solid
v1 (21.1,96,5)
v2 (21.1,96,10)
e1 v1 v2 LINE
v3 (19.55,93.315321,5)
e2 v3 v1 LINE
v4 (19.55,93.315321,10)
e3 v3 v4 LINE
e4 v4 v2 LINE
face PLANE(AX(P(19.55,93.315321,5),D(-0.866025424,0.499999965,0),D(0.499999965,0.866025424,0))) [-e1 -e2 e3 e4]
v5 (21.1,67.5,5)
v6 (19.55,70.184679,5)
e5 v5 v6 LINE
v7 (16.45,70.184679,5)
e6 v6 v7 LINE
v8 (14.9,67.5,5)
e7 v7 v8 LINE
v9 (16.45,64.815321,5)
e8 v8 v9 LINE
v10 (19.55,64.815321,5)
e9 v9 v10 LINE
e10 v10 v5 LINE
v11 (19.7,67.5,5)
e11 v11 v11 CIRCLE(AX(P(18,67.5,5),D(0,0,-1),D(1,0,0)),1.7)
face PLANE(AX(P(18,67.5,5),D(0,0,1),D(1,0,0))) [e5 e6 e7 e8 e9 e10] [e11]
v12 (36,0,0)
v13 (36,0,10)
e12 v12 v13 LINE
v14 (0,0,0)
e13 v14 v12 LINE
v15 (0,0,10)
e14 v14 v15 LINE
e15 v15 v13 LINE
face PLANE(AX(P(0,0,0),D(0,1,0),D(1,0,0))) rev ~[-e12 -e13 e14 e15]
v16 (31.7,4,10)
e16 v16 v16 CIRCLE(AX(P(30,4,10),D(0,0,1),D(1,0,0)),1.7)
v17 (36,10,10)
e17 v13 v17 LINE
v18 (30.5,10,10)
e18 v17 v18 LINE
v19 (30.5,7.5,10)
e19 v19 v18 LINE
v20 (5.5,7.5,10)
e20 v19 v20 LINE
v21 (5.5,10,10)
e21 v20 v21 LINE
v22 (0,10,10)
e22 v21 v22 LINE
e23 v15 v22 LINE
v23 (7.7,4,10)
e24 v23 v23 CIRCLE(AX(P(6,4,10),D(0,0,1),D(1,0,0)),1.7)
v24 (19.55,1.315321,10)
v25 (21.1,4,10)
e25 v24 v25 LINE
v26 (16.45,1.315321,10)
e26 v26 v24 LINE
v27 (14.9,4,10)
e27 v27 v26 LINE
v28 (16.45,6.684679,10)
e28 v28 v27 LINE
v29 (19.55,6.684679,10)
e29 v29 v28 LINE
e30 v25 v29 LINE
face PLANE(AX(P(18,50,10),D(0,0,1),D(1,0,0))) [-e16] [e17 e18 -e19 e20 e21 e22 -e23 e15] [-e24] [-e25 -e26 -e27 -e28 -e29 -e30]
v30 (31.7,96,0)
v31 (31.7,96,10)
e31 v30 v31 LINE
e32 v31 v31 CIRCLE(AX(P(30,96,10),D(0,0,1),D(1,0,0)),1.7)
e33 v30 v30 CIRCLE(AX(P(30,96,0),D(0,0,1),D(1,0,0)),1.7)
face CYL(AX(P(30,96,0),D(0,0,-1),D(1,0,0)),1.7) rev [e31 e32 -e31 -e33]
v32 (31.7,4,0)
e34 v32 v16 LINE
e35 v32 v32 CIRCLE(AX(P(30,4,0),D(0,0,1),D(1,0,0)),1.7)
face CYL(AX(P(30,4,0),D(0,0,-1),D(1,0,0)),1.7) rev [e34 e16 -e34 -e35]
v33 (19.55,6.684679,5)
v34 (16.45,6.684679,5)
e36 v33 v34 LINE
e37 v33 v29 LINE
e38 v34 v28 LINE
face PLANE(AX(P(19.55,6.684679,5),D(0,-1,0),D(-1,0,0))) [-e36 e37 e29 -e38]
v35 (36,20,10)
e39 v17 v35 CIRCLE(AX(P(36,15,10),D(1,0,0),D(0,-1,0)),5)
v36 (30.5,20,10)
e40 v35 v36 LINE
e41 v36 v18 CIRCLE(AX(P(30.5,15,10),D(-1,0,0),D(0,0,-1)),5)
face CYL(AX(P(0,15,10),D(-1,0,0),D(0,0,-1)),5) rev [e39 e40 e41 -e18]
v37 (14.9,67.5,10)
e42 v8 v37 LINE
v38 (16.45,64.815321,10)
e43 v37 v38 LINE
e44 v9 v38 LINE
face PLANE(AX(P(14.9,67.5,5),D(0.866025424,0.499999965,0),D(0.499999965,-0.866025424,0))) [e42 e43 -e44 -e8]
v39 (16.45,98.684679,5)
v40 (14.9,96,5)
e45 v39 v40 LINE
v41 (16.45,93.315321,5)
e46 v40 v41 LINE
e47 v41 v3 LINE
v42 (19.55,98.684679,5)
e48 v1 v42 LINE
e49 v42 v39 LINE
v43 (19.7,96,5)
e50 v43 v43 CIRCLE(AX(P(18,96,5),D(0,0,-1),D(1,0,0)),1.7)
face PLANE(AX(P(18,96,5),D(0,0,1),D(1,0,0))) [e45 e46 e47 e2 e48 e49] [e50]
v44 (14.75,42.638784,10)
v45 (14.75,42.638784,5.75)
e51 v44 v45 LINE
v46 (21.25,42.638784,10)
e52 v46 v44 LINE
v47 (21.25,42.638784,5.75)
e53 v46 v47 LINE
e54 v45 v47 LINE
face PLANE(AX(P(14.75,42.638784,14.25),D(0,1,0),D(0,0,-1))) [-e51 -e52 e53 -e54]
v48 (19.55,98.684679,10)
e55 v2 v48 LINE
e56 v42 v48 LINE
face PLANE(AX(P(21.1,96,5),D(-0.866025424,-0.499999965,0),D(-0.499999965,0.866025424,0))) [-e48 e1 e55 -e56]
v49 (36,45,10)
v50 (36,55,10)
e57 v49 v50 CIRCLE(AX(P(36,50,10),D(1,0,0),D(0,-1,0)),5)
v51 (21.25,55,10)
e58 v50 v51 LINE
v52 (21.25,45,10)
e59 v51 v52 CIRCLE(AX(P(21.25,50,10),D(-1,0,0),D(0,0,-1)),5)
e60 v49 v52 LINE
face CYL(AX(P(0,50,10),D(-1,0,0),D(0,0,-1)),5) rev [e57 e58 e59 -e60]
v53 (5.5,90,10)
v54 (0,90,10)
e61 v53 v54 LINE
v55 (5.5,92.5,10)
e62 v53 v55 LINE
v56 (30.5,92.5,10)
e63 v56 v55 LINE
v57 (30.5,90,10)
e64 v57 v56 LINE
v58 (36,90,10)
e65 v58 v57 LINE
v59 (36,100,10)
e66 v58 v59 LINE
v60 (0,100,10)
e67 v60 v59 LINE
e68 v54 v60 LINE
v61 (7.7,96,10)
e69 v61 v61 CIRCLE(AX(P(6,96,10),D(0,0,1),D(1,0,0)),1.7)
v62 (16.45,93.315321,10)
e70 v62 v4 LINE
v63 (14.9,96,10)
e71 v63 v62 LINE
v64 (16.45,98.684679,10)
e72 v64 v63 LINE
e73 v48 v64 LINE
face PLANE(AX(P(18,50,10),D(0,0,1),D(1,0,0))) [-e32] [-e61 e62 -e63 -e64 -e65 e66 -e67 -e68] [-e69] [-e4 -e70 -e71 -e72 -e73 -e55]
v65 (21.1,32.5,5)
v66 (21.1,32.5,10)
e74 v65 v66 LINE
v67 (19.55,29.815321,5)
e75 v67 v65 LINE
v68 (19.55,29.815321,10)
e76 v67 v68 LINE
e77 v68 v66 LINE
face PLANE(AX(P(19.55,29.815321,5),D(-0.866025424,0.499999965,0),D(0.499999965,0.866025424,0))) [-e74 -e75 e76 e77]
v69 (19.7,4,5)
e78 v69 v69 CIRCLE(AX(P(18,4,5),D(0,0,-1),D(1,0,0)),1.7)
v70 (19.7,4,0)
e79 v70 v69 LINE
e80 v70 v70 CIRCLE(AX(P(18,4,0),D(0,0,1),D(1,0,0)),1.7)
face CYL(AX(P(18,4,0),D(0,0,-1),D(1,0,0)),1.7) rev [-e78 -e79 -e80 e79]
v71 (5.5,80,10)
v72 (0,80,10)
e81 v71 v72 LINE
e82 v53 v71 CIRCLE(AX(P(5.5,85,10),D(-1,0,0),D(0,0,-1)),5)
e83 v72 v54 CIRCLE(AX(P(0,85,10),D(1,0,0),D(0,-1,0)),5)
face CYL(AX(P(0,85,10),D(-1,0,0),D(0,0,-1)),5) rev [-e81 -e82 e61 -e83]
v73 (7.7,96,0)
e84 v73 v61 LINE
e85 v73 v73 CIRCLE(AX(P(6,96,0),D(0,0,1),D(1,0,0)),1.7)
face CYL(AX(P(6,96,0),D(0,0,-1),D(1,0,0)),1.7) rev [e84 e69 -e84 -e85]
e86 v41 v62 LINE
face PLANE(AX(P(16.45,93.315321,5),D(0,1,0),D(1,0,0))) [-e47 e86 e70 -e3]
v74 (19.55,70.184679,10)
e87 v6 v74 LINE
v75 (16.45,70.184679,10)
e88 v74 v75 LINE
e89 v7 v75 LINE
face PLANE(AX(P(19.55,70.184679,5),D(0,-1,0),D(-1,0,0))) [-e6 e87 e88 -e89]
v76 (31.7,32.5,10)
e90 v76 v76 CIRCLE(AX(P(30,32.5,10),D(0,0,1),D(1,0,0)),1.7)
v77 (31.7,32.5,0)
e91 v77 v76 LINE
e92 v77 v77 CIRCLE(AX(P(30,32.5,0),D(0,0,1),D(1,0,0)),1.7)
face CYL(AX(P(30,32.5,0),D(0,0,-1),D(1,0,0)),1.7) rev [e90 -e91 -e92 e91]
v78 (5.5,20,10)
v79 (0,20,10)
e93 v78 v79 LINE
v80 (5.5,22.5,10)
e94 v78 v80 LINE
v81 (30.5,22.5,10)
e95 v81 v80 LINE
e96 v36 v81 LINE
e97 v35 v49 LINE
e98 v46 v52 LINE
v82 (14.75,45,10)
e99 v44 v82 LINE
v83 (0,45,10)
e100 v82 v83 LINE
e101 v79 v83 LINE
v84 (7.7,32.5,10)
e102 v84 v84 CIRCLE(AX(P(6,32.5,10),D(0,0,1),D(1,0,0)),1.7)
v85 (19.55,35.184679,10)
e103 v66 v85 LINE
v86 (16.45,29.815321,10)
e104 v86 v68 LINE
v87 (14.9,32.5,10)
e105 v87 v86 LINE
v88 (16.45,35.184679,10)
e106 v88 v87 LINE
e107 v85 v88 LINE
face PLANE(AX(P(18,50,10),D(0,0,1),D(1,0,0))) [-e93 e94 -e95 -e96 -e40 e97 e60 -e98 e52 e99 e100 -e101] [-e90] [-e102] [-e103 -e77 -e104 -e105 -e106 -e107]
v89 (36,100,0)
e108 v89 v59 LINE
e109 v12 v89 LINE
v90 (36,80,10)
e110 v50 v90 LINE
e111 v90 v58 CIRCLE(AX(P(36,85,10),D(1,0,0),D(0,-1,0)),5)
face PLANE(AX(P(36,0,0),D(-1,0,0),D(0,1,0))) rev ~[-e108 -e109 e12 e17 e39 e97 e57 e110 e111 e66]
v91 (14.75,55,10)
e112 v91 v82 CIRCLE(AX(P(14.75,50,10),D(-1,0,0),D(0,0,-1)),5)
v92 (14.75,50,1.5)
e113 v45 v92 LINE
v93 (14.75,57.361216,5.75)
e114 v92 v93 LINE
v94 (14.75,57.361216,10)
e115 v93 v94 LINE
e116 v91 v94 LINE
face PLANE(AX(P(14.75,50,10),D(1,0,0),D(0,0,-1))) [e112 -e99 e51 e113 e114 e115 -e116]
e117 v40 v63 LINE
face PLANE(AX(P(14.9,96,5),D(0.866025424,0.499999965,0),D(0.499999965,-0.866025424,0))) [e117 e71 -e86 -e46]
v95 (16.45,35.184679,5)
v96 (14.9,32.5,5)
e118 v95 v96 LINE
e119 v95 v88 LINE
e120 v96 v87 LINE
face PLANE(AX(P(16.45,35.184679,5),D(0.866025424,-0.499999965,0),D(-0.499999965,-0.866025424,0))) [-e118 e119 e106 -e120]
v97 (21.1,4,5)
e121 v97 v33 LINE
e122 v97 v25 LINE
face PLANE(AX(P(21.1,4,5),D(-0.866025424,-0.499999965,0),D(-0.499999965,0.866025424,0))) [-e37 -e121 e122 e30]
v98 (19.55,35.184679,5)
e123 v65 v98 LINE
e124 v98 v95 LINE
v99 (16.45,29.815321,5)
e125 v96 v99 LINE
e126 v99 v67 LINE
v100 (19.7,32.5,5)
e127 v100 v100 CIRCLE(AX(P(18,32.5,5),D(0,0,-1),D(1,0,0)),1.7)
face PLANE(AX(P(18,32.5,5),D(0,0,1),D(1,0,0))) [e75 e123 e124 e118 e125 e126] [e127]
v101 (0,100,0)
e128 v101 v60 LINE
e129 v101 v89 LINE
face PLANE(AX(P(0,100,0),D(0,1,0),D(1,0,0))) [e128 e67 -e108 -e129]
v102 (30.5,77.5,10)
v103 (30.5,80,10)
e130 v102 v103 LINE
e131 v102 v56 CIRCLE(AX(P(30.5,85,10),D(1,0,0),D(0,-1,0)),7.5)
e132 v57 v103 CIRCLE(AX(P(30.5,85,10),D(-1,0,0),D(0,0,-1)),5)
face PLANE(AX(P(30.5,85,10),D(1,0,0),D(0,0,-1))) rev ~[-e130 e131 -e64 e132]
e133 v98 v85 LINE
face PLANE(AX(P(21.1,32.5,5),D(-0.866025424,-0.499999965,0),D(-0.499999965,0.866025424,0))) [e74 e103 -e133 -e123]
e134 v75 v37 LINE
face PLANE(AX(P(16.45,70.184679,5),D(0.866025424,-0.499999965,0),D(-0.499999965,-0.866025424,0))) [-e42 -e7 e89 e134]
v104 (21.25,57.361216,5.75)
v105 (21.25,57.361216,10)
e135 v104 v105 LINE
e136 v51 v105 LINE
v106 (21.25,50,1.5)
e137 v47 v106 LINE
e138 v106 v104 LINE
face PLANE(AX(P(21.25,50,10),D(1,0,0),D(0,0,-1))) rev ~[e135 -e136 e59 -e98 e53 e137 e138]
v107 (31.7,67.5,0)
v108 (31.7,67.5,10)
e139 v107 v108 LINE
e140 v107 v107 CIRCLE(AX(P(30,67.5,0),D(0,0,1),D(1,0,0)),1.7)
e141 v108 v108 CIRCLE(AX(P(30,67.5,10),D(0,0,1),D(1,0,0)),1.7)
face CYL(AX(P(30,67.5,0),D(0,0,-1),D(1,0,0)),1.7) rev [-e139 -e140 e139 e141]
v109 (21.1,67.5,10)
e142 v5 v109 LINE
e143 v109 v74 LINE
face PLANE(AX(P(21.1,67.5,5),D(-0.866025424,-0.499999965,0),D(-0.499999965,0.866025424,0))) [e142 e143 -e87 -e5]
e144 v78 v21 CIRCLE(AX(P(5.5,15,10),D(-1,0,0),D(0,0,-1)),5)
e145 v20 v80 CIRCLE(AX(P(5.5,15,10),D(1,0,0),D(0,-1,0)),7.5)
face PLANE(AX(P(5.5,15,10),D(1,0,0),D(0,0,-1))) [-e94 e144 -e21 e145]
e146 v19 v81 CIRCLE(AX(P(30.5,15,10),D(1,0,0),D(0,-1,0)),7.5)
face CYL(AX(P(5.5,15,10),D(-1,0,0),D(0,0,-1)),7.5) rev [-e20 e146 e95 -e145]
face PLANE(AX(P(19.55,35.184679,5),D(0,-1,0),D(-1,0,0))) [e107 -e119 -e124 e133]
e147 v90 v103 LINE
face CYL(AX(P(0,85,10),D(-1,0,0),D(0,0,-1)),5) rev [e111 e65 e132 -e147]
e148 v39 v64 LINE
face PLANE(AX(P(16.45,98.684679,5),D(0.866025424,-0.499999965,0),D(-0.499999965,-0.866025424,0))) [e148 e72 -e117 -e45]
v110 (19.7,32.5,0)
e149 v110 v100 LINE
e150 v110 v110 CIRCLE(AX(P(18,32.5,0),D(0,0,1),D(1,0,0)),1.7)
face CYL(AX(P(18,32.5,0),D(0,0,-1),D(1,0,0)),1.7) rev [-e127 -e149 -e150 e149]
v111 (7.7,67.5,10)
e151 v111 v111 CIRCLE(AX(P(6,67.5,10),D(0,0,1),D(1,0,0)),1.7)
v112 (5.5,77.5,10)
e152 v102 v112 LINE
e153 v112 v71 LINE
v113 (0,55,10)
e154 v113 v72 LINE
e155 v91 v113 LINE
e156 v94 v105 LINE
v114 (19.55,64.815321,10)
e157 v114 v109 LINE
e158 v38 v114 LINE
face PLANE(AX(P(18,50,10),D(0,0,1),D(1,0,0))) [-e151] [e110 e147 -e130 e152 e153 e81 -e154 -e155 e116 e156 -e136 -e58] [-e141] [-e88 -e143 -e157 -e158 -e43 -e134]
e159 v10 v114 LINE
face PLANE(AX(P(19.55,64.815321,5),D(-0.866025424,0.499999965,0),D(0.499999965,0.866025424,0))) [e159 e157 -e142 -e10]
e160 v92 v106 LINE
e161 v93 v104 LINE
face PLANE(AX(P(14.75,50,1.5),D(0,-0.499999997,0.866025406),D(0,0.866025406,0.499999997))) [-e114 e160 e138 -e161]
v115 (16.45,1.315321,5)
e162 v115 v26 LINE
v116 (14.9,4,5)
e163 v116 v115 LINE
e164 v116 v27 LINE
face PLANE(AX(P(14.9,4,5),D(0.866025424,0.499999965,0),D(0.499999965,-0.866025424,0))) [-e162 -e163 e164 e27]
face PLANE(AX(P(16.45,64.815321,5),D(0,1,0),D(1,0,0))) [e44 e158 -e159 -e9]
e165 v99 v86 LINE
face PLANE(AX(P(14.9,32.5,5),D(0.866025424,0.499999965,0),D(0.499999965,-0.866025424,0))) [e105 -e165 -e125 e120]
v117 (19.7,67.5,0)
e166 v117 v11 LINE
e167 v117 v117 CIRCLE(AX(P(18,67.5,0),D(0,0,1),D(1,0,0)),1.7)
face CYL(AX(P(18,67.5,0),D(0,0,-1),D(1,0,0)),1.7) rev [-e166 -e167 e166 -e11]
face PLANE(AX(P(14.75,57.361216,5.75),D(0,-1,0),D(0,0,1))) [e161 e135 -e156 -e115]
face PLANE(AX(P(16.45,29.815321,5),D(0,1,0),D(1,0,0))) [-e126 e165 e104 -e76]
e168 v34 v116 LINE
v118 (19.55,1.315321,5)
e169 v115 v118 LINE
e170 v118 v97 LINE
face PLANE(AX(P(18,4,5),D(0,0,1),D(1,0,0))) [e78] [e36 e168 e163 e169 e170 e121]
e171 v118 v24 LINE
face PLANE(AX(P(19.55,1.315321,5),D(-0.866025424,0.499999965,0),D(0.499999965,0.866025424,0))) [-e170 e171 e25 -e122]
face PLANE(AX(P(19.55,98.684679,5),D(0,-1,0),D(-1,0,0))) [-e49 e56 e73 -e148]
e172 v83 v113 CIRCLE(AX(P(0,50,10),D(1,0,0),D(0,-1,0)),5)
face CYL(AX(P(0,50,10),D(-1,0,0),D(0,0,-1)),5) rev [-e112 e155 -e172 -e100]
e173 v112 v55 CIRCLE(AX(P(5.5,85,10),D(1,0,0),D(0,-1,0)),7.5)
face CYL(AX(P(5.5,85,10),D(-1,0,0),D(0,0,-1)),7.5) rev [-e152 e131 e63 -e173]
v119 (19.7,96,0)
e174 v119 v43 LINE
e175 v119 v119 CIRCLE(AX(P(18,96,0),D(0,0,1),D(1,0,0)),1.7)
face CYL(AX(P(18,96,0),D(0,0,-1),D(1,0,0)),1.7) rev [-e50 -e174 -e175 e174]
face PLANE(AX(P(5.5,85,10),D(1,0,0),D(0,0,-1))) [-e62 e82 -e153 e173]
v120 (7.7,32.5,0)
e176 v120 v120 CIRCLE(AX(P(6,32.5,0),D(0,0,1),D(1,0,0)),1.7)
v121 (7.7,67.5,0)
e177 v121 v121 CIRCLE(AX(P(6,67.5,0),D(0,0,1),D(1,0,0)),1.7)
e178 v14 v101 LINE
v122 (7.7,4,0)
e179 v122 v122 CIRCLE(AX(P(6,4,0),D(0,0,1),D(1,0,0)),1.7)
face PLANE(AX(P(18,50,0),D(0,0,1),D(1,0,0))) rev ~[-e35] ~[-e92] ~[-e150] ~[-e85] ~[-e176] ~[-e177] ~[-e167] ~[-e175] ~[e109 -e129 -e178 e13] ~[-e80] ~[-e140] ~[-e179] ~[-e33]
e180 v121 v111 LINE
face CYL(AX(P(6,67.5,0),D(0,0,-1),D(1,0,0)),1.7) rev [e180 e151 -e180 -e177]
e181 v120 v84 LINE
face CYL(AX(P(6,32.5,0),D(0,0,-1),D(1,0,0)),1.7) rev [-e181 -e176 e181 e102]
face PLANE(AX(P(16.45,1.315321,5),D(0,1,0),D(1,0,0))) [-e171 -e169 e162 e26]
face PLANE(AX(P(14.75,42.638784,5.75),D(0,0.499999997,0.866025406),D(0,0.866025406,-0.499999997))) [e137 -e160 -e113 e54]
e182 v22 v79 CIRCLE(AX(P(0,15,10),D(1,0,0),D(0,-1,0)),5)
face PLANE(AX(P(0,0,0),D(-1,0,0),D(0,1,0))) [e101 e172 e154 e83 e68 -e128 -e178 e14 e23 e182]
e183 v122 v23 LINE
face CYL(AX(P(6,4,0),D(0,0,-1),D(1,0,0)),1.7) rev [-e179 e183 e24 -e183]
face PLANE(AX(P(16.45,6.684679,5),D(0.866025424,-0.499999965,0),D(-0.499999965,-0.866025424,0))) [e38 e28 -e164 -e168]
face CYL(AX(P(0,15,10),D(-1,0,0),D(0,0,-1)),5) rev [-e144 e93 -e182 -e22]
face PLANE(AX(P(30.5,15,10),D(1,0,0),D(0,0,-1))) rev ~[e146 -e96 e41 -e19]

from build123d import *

# Parameters (mm, degrees)
PRISM004_DEPTH          = 5
PRISM003_DEPTH          = 5
PRISM002_DEPTH          = 5
PRISM001_DEPTH          = 5
CYLINDER016_R           = 1.7
CYLINDER016_DEPTH       = 10
CYLINDER015_R           = 1.7
CYLINDER015_DEPTH       = 10
CYLINDER014_R           = 1.7
CYLINDER014_DEPTH       = 10
CYLINDER013_R           = 1.7
CYLINDER013_DEPTH       = 10
CYLINDER012_R           = 1.7
CYLINDER012_DEPTH       = 10
CYLINDER011_R           = 1.7
CYLINDER011_DEPTH       = 10
CYLINDER010_R           = 1.7
CYLINDER010_DEPTH       = 10
CYLINDER009_R           = 1.7
CYLINDER009_DEPTH       = 10
CYLINDER008_R           = 1.7
CYLINDER008_DEPTH       = 10
CYLINDER007_R           = 1.7
CYLINDER007_DEPTH       = 10
CYLINDER006_R           = 1.7
CYLINDER006_DEPTH       = 10
CYLINDER005_R           = 1.7
CYLINDER005_DEPTH       = 10
PRISM_DEPTH             = 6.5
PRISM_PITCH_ANGLE       = 90
CYLINDER004_R           = 7.5
CYLINDER004_DEPTH       = 25
CYLINDER004_PITCH_ANGLE = 90
CYLINDER003_R           = 7.5
CYLINDER003_DEPTH       = 25
CYLINDER003_PITCH_ANGLE = 90
CYLINDER002_R           = 5
CYLINDER002_DEPTH       = 36
CYLINDER002_PITCH_ANGLE = 90
CYLINDER001_R           = 5
CYLINDER001_DEPTH       = 36
CYLINDER001_PITCH_ANGLE = 90
CYLINDER_R              = 5
CYLINDER_DEPTH          = 36
CYLINDER_PITCH_ANGLE    = 90
BOX_W                   = 36
BOX_H                   = 100
BOX_DEPTH               = 10


with BuildPart() as prisma004:
    # Prism004 → Prism004 (new body)
    with BuildSketch(Plane(origin=(18, 96, 5), x_dir=(1, 0, 0), z_dir=(0, 0, 1))):
        Polygon((3.1, 0), (1.55, 2.684679), (-1.55, 2.684679), (-3.1, 0), (-1.55, -2.684679), (1.55, -2.684679), align=None)
    extrude(amount=PRISM004_DEPTH)


with BuildPart() as prisma003:
    # Prism003 → Prism003 (new body)
    with BuildSketch(Plane(origin=(18, 67.5, 5), x_dir=(1, 0, 0), z_dir=(0, 0, 1))):
        Polygon((3.1, 0), (1.55, 2.684679), (-1.55, 2.684679), (-3.1, 0), (-1.55, -2.684679), (1.55, -2.684679), align=None)
    extrude(amount=PRISM003_DEPTH)


with BuildPart() as prisma002:
    # Prism002 → Prism002 (new body)
    with BuildSketch(Plane(origin=(18, 32.5, 5), x_dir=(1, 0, 0), z_dir=(0, 0, 1))):
        Polygon((3.1, 0), (1.55, 2.684679), (-1.55, 2.684679), (-3.1, 0), (-1.55, -2.684679), (1.55, -2.684679), align=None)
    extrude(amount=PRISM002_DEPTH)


with BuildPart() as prisma001:
    # Prism001 → Prism001 (new body)
    with BuildSketch(Plane(origin=(18, 4, 5), x_dir=(1, 0, 0), z_dir=(0, 0, 1))):
        Polygon((3.1, 0), (1.55, 2.684679), (-1.55, 2.684679), (-3.1, 0), (-1.55, -2.684679), (1.55, -2.684679), align=None)
    extrude(amount=PRISM001_DEPTH)


with BuildPart() as cilindro016:
    # Cylinder016 → Cylinder016 (new body)
    with BuildSketch(Plane(origin=(18, 96, 0), x_dir=(1, 0, 0), z_dir=(0, 0, 1))):
        Circle(CYLINDER016_R)
    extrude(amount=CYLINDER016_DEPTH)


with BuildPart() as cilindro015:
    # Cylinder015 → Cylinder015 (new body)
    with BuildSketch(Plane(origin=(18, 67.5, 0), x_dir=(1, 0, 0), z_dir=(0, 0, 1))):
        Circle(CYLINDER015_R)
    extrude(amount=CYLINDER015_DEPTH)


with BuildPart() as cilindro014:
    # Cylinder014 → Cylinder014 (new body)
    with BuildSketch(Plane(origin=(18, 32.5, 0), x_dir=(1, 0, 0), z_dir=(0, 0, 1))):
        Circle(CYLINDER014_R)
    extrude(amount=CYLINDER014_DEPTH)


with BuildPart() as cilindro013:
    # Cylinder013 → Cylinder013 (new body)
    with BuildSketch(Plane(origin=(18, 4, 0), x_dir=(1, 0, 0), z_dir=(0, 0, 1))):
        Circle(CYLINDER013_R)
    extrude(amount=CYLINDER013_DEPTH)


with BuildPart() as cilindro012:
    # Cylinder012 → Cylinder012 (new body)
    with BuildSketch(Plane(origin=(30, 96, 0), x_dir=(1, 0, 0), z_dir=(0, 0, 1))):
        Circle(CYLINDER012_R)
    extrude(amount=CYLINDER012_DEPTH)


with BuildPart() as cilindro011:
    # Cylinder011 → Cylinder011 (new body)
    with BuildSketch(Plane(origin=(6, 96, 0), x_dir=(1, 0, 0), z_dir=(0, 0, 1))):
        Circle(CYLINDER011_R)
    extrude(amount=CYLINDER011_DEPTH)


with BuildPart() as cilindro010:
    # Cylinder010 → Cylinder010 (new body)
    with BuildSketch(Plane(origin=(30, 67.5, 0), x_dir=(1, 0, 0), z_dir=(0, 0, 1))):
        Circle(CYLINDER010_R)
    extrude(amount=CYLINDER010_DEPTH)


with BuildPart() as cilindro009:
    # Cylinder009 → Cylinder009 (new body)
    with BuildSketch(Plane(origin=(6, 67.5, 0), x_dir=(1, 0, 0), z_dir=(0, 0, 1))):
        Circle(CYLINDER009_R)
    extrude(amount=CYLINDER009_DEPTH)


with BuildPart() as cilindro008:
    # Cylinder008 → Cylinder008 (new body)
    with BuildSketch(Plane(origin=(30, 32.5, 0), x_dir=(1, 0, 0), z_dir=(0, 0, 1))):
        Circle(CYLINDER008_R)
    extrude(amount=CYLINDER008_DEPTH)


with BuildPart() as cilindro007:
    # Cylinder007 → Cylinder007 (new body)
    with BuildSketch(Plane(origin=(6, 32.5, 0), x_dir=(1, 0, 0), z_dir=(0, 0, 1))):
        Circle(CYLINDER007_R)
    extrude(amount=CYLINDER007_DEPTH)


with BuildPart() as cilindro006:
    # Cylinder006 → Cylinder006 (new body)
    with BuildSketch(Plane(origin=(30, 4, 0), x_dir=(1, 0, 0), z_dir=(0, 0, 1))):
        Circle(CYLINDER006_R)
    extrude(amount=CYLINDER006_DEPTH)


with BuildPart() as cilindro005:
    # Cylinder005 → Cylinder005 (new body)
    with BuildSketch(Plane(origin=(6, 4, 0), x_dir=(1, 0, 0), z_dir=(0, 0, 1))):
        Circle(CYLINDER005_R)
    extrude(amount=CYLINDER005_DEPTH)


with BuildPart() as prisma:
    # Prism → Prism (new body)
    with BuildSketch(Plane.XY):
        Polygon((8.5, 0), (4.25, 7.361216), (-4.25, 7.361216), (-8.5, 0), (-4.25, -7.361216), (4.25, -7.361216), align=None)
    extrude(amount=PRISM_DEPTH)


with BuildPart() as prisma_1:
    # Prism pitch: moved
    add(prisma.part.rotate(Axis((0, 0, 0), (0, 1, 0)), PRISM_PITCH_ANGLE))


with BuildPart() as prisma_2:
    # Prism placement: moved
    add(prisma_1.part.moved(Location((14.75, 50, 10))))


with BuildPart() as cilindro004:
    # Cylinder004 → Cylinder004 (new body)
    with BuildSketch(Plane.XY):
        Circle(CYLINDER004_R)
    extrude(amount=CYLINDER004_DEPTH)


with BuildPart() as cilindro004_1:
    # Cylinder004 pitch: moved
    add(cilindro004.part.rotate(Axis((0, 0, 0), (0, 1, 0)), CYLINDER004_PITCH_ANGLE))


with BuildPart() as cilindro004_2:
    # Cylinder004 placement: moved
    add(cilindro004_1.part.moved(Location((5.5, 85, 10))))


with BuildPart() as cilindro003:
    # Cylinder003 → Cylinder003 (new body)
    with BuildSketch(Plane.XY):
        Circle(CYLINDER003_R)
    extrude(amount=CYLINDER003_DEPTH)


with BuildPart() as cilindro003_1:
    # Cylinder003 pitch: moved
    add(cilindro003.part.rotate(Axis((0, 0, 0), (0, 1, 0)), CYLINDER003_PITCH_ANGLE))


with BuildPart() as cilindro003_2:
    # Cylinder003 placement: moved
    add(cilindro003_1.part.moved(Location((5.5, 15, 10))))


with BuildPart() as cilindro002:
    # Cylinder002 → Cylinder002 (new body)
    with BuildSketch(Plane.XY):
        Circle(CYLINDER002_R)
    extrude(amount=CYLINDER002_DEPTH)


with BuildPart() as cilindro002_1:
    # Cylinder002 pitch: moved
    add(cilindro002.part.rotate(Axis((0, 0, 0), (0, 1, 0)), CYLINDER002_PITCH_ANGLE))


with BuildPart() as cilindro002_2:
    # Cylinder002 placement: moved
    add(cilindro002_1.part.moved(Location((0, 85, 10))))


with BuildPart() as cilindro001:
    # Cylinder001 → Cylinder001 (new body)
    with BuildSketch(Plane.XY):
        Circle(CYLINDER001_R)
    extrude(amount=CYLINDER001_DEPTH)


with BuildPart() as cilindro001_1:
    # Cylinder001 pitch: moved
    add(cilindro001.part.rotate(Axis((0, 0, 0), (0, 1, 0)), CYLINDER001_PITCH_ANGLE))


with BuildPart() as cilindro001_2:
    # Cylinder001 placement: moved
    add(cilindro001_1.part.moved(Location((0, 50, 10))))


with BuildPart() as cilindro:
    # Cylinder → Cylinder (new body)
    with BuildSketch(Plane.XY):
        Circle(CYLINDER_R)
    extrude(amount=CYLINDER_DEPTH)


with BuildPart() as cilindro_1:
    # Cylinder pitch: moved
    add(cilindro.part.rotate(Axis((0, 0, 0), (0, 1, 0)), CYLINDER_PITCH_ANGLE))


with BuildPart() as cilindro_2:
    # Cylinder placement: moved
    add(cilindro_1.part.moved(Location((0, 15, 10))))


with BuildPart() as cut021:
    # Box → Box (new body)
    with BuildSketch(Plane.XY):
        with Locations((18, 50)):
            Rectangle(BOX_W, BOX_H)
    extrude(amount=BOX_DEPTH)

    # Cut: cut Cilindro
    add(cilindro_2.part, mode=Mode.SUBTRACT)

    # Cut001: cut Cilindro001
    add(cilindro001_2.part, mode=Mode.SUBTRACT)

    # Cut002: cut Cilindro002
    add(cilindro002_2.part, mode=Mode.SUBTRACT)

    # Cut003: cut Cilindro003
    add(cilindro003_2.part, mode=Mode.SUBTRACT)

    # Cut004: cut Cilindro004
    add(cilindro004_2.part, mode=Mode.SUBTRACT)

    # Cut005: cut Prisma
    add(prisma_2.part, mode=Mode.SUBTRACT)

    # Cut006: cut Cilindro005
    add(cilindro005.part, mode=Mode.SUBTRACT)

    # Cut007: cut Cilindro006
    add(cilindro006.part, mode=Mode.SUBTRACT)

    # Cut008: cut Cilindro007
    add(cilindro007.part, mode=Mode.SUBTRACT)

    # Cut009: cut Cilindro008
    add(cilindro008.part, mode=Mode.SUBTRACT)

    # Cut010: cut Cilindro009
    add(cilindro009.part, mode=Mode.SUBTRACT)

    # Cut011: cut Cilindro010
    add(cilindro010.part, mode=Mode.SUBTRACT)

    # Cut012: cut Cilindro011
    add(cilindro011.part, mode=Mode.SUBTRACT)

    # Cut013: cut Cilindro012
    add(cilindro012.part, mode=Mode.SUBTRACT)

    # Cut014: cut Cilindro013
    add(cilindro013.part, mode=Mode.SUBTRACT)

    # Cut015: cut Cilindro014
    add(cilindro014.part, mode=Mode.SUBTRACT)

    # Cut016: cut Cilindro015
    add(cilindro015.part, mode=Mode.SUBTRACT)

    # Cut017: cut Cilindro016
    add(cilindro016.part, mode=Mode.SUBTRACT)

    # Cut018: cut Prisma001
    add(prisma001.part, mode=Mode.SUBTRACT)

    # Cut019: cut Prisma002
    add(prisma002.part, mode=Mode.SUBTRACT)

    # Cut020: cut Prisma003
    add(prisma003.part, mode=Mode.SUBTRACT)

    # Cut021: cut Prisma004
    add(prisma004.part, mode=Mode.SUBTRACT)


solid = cut021.part
